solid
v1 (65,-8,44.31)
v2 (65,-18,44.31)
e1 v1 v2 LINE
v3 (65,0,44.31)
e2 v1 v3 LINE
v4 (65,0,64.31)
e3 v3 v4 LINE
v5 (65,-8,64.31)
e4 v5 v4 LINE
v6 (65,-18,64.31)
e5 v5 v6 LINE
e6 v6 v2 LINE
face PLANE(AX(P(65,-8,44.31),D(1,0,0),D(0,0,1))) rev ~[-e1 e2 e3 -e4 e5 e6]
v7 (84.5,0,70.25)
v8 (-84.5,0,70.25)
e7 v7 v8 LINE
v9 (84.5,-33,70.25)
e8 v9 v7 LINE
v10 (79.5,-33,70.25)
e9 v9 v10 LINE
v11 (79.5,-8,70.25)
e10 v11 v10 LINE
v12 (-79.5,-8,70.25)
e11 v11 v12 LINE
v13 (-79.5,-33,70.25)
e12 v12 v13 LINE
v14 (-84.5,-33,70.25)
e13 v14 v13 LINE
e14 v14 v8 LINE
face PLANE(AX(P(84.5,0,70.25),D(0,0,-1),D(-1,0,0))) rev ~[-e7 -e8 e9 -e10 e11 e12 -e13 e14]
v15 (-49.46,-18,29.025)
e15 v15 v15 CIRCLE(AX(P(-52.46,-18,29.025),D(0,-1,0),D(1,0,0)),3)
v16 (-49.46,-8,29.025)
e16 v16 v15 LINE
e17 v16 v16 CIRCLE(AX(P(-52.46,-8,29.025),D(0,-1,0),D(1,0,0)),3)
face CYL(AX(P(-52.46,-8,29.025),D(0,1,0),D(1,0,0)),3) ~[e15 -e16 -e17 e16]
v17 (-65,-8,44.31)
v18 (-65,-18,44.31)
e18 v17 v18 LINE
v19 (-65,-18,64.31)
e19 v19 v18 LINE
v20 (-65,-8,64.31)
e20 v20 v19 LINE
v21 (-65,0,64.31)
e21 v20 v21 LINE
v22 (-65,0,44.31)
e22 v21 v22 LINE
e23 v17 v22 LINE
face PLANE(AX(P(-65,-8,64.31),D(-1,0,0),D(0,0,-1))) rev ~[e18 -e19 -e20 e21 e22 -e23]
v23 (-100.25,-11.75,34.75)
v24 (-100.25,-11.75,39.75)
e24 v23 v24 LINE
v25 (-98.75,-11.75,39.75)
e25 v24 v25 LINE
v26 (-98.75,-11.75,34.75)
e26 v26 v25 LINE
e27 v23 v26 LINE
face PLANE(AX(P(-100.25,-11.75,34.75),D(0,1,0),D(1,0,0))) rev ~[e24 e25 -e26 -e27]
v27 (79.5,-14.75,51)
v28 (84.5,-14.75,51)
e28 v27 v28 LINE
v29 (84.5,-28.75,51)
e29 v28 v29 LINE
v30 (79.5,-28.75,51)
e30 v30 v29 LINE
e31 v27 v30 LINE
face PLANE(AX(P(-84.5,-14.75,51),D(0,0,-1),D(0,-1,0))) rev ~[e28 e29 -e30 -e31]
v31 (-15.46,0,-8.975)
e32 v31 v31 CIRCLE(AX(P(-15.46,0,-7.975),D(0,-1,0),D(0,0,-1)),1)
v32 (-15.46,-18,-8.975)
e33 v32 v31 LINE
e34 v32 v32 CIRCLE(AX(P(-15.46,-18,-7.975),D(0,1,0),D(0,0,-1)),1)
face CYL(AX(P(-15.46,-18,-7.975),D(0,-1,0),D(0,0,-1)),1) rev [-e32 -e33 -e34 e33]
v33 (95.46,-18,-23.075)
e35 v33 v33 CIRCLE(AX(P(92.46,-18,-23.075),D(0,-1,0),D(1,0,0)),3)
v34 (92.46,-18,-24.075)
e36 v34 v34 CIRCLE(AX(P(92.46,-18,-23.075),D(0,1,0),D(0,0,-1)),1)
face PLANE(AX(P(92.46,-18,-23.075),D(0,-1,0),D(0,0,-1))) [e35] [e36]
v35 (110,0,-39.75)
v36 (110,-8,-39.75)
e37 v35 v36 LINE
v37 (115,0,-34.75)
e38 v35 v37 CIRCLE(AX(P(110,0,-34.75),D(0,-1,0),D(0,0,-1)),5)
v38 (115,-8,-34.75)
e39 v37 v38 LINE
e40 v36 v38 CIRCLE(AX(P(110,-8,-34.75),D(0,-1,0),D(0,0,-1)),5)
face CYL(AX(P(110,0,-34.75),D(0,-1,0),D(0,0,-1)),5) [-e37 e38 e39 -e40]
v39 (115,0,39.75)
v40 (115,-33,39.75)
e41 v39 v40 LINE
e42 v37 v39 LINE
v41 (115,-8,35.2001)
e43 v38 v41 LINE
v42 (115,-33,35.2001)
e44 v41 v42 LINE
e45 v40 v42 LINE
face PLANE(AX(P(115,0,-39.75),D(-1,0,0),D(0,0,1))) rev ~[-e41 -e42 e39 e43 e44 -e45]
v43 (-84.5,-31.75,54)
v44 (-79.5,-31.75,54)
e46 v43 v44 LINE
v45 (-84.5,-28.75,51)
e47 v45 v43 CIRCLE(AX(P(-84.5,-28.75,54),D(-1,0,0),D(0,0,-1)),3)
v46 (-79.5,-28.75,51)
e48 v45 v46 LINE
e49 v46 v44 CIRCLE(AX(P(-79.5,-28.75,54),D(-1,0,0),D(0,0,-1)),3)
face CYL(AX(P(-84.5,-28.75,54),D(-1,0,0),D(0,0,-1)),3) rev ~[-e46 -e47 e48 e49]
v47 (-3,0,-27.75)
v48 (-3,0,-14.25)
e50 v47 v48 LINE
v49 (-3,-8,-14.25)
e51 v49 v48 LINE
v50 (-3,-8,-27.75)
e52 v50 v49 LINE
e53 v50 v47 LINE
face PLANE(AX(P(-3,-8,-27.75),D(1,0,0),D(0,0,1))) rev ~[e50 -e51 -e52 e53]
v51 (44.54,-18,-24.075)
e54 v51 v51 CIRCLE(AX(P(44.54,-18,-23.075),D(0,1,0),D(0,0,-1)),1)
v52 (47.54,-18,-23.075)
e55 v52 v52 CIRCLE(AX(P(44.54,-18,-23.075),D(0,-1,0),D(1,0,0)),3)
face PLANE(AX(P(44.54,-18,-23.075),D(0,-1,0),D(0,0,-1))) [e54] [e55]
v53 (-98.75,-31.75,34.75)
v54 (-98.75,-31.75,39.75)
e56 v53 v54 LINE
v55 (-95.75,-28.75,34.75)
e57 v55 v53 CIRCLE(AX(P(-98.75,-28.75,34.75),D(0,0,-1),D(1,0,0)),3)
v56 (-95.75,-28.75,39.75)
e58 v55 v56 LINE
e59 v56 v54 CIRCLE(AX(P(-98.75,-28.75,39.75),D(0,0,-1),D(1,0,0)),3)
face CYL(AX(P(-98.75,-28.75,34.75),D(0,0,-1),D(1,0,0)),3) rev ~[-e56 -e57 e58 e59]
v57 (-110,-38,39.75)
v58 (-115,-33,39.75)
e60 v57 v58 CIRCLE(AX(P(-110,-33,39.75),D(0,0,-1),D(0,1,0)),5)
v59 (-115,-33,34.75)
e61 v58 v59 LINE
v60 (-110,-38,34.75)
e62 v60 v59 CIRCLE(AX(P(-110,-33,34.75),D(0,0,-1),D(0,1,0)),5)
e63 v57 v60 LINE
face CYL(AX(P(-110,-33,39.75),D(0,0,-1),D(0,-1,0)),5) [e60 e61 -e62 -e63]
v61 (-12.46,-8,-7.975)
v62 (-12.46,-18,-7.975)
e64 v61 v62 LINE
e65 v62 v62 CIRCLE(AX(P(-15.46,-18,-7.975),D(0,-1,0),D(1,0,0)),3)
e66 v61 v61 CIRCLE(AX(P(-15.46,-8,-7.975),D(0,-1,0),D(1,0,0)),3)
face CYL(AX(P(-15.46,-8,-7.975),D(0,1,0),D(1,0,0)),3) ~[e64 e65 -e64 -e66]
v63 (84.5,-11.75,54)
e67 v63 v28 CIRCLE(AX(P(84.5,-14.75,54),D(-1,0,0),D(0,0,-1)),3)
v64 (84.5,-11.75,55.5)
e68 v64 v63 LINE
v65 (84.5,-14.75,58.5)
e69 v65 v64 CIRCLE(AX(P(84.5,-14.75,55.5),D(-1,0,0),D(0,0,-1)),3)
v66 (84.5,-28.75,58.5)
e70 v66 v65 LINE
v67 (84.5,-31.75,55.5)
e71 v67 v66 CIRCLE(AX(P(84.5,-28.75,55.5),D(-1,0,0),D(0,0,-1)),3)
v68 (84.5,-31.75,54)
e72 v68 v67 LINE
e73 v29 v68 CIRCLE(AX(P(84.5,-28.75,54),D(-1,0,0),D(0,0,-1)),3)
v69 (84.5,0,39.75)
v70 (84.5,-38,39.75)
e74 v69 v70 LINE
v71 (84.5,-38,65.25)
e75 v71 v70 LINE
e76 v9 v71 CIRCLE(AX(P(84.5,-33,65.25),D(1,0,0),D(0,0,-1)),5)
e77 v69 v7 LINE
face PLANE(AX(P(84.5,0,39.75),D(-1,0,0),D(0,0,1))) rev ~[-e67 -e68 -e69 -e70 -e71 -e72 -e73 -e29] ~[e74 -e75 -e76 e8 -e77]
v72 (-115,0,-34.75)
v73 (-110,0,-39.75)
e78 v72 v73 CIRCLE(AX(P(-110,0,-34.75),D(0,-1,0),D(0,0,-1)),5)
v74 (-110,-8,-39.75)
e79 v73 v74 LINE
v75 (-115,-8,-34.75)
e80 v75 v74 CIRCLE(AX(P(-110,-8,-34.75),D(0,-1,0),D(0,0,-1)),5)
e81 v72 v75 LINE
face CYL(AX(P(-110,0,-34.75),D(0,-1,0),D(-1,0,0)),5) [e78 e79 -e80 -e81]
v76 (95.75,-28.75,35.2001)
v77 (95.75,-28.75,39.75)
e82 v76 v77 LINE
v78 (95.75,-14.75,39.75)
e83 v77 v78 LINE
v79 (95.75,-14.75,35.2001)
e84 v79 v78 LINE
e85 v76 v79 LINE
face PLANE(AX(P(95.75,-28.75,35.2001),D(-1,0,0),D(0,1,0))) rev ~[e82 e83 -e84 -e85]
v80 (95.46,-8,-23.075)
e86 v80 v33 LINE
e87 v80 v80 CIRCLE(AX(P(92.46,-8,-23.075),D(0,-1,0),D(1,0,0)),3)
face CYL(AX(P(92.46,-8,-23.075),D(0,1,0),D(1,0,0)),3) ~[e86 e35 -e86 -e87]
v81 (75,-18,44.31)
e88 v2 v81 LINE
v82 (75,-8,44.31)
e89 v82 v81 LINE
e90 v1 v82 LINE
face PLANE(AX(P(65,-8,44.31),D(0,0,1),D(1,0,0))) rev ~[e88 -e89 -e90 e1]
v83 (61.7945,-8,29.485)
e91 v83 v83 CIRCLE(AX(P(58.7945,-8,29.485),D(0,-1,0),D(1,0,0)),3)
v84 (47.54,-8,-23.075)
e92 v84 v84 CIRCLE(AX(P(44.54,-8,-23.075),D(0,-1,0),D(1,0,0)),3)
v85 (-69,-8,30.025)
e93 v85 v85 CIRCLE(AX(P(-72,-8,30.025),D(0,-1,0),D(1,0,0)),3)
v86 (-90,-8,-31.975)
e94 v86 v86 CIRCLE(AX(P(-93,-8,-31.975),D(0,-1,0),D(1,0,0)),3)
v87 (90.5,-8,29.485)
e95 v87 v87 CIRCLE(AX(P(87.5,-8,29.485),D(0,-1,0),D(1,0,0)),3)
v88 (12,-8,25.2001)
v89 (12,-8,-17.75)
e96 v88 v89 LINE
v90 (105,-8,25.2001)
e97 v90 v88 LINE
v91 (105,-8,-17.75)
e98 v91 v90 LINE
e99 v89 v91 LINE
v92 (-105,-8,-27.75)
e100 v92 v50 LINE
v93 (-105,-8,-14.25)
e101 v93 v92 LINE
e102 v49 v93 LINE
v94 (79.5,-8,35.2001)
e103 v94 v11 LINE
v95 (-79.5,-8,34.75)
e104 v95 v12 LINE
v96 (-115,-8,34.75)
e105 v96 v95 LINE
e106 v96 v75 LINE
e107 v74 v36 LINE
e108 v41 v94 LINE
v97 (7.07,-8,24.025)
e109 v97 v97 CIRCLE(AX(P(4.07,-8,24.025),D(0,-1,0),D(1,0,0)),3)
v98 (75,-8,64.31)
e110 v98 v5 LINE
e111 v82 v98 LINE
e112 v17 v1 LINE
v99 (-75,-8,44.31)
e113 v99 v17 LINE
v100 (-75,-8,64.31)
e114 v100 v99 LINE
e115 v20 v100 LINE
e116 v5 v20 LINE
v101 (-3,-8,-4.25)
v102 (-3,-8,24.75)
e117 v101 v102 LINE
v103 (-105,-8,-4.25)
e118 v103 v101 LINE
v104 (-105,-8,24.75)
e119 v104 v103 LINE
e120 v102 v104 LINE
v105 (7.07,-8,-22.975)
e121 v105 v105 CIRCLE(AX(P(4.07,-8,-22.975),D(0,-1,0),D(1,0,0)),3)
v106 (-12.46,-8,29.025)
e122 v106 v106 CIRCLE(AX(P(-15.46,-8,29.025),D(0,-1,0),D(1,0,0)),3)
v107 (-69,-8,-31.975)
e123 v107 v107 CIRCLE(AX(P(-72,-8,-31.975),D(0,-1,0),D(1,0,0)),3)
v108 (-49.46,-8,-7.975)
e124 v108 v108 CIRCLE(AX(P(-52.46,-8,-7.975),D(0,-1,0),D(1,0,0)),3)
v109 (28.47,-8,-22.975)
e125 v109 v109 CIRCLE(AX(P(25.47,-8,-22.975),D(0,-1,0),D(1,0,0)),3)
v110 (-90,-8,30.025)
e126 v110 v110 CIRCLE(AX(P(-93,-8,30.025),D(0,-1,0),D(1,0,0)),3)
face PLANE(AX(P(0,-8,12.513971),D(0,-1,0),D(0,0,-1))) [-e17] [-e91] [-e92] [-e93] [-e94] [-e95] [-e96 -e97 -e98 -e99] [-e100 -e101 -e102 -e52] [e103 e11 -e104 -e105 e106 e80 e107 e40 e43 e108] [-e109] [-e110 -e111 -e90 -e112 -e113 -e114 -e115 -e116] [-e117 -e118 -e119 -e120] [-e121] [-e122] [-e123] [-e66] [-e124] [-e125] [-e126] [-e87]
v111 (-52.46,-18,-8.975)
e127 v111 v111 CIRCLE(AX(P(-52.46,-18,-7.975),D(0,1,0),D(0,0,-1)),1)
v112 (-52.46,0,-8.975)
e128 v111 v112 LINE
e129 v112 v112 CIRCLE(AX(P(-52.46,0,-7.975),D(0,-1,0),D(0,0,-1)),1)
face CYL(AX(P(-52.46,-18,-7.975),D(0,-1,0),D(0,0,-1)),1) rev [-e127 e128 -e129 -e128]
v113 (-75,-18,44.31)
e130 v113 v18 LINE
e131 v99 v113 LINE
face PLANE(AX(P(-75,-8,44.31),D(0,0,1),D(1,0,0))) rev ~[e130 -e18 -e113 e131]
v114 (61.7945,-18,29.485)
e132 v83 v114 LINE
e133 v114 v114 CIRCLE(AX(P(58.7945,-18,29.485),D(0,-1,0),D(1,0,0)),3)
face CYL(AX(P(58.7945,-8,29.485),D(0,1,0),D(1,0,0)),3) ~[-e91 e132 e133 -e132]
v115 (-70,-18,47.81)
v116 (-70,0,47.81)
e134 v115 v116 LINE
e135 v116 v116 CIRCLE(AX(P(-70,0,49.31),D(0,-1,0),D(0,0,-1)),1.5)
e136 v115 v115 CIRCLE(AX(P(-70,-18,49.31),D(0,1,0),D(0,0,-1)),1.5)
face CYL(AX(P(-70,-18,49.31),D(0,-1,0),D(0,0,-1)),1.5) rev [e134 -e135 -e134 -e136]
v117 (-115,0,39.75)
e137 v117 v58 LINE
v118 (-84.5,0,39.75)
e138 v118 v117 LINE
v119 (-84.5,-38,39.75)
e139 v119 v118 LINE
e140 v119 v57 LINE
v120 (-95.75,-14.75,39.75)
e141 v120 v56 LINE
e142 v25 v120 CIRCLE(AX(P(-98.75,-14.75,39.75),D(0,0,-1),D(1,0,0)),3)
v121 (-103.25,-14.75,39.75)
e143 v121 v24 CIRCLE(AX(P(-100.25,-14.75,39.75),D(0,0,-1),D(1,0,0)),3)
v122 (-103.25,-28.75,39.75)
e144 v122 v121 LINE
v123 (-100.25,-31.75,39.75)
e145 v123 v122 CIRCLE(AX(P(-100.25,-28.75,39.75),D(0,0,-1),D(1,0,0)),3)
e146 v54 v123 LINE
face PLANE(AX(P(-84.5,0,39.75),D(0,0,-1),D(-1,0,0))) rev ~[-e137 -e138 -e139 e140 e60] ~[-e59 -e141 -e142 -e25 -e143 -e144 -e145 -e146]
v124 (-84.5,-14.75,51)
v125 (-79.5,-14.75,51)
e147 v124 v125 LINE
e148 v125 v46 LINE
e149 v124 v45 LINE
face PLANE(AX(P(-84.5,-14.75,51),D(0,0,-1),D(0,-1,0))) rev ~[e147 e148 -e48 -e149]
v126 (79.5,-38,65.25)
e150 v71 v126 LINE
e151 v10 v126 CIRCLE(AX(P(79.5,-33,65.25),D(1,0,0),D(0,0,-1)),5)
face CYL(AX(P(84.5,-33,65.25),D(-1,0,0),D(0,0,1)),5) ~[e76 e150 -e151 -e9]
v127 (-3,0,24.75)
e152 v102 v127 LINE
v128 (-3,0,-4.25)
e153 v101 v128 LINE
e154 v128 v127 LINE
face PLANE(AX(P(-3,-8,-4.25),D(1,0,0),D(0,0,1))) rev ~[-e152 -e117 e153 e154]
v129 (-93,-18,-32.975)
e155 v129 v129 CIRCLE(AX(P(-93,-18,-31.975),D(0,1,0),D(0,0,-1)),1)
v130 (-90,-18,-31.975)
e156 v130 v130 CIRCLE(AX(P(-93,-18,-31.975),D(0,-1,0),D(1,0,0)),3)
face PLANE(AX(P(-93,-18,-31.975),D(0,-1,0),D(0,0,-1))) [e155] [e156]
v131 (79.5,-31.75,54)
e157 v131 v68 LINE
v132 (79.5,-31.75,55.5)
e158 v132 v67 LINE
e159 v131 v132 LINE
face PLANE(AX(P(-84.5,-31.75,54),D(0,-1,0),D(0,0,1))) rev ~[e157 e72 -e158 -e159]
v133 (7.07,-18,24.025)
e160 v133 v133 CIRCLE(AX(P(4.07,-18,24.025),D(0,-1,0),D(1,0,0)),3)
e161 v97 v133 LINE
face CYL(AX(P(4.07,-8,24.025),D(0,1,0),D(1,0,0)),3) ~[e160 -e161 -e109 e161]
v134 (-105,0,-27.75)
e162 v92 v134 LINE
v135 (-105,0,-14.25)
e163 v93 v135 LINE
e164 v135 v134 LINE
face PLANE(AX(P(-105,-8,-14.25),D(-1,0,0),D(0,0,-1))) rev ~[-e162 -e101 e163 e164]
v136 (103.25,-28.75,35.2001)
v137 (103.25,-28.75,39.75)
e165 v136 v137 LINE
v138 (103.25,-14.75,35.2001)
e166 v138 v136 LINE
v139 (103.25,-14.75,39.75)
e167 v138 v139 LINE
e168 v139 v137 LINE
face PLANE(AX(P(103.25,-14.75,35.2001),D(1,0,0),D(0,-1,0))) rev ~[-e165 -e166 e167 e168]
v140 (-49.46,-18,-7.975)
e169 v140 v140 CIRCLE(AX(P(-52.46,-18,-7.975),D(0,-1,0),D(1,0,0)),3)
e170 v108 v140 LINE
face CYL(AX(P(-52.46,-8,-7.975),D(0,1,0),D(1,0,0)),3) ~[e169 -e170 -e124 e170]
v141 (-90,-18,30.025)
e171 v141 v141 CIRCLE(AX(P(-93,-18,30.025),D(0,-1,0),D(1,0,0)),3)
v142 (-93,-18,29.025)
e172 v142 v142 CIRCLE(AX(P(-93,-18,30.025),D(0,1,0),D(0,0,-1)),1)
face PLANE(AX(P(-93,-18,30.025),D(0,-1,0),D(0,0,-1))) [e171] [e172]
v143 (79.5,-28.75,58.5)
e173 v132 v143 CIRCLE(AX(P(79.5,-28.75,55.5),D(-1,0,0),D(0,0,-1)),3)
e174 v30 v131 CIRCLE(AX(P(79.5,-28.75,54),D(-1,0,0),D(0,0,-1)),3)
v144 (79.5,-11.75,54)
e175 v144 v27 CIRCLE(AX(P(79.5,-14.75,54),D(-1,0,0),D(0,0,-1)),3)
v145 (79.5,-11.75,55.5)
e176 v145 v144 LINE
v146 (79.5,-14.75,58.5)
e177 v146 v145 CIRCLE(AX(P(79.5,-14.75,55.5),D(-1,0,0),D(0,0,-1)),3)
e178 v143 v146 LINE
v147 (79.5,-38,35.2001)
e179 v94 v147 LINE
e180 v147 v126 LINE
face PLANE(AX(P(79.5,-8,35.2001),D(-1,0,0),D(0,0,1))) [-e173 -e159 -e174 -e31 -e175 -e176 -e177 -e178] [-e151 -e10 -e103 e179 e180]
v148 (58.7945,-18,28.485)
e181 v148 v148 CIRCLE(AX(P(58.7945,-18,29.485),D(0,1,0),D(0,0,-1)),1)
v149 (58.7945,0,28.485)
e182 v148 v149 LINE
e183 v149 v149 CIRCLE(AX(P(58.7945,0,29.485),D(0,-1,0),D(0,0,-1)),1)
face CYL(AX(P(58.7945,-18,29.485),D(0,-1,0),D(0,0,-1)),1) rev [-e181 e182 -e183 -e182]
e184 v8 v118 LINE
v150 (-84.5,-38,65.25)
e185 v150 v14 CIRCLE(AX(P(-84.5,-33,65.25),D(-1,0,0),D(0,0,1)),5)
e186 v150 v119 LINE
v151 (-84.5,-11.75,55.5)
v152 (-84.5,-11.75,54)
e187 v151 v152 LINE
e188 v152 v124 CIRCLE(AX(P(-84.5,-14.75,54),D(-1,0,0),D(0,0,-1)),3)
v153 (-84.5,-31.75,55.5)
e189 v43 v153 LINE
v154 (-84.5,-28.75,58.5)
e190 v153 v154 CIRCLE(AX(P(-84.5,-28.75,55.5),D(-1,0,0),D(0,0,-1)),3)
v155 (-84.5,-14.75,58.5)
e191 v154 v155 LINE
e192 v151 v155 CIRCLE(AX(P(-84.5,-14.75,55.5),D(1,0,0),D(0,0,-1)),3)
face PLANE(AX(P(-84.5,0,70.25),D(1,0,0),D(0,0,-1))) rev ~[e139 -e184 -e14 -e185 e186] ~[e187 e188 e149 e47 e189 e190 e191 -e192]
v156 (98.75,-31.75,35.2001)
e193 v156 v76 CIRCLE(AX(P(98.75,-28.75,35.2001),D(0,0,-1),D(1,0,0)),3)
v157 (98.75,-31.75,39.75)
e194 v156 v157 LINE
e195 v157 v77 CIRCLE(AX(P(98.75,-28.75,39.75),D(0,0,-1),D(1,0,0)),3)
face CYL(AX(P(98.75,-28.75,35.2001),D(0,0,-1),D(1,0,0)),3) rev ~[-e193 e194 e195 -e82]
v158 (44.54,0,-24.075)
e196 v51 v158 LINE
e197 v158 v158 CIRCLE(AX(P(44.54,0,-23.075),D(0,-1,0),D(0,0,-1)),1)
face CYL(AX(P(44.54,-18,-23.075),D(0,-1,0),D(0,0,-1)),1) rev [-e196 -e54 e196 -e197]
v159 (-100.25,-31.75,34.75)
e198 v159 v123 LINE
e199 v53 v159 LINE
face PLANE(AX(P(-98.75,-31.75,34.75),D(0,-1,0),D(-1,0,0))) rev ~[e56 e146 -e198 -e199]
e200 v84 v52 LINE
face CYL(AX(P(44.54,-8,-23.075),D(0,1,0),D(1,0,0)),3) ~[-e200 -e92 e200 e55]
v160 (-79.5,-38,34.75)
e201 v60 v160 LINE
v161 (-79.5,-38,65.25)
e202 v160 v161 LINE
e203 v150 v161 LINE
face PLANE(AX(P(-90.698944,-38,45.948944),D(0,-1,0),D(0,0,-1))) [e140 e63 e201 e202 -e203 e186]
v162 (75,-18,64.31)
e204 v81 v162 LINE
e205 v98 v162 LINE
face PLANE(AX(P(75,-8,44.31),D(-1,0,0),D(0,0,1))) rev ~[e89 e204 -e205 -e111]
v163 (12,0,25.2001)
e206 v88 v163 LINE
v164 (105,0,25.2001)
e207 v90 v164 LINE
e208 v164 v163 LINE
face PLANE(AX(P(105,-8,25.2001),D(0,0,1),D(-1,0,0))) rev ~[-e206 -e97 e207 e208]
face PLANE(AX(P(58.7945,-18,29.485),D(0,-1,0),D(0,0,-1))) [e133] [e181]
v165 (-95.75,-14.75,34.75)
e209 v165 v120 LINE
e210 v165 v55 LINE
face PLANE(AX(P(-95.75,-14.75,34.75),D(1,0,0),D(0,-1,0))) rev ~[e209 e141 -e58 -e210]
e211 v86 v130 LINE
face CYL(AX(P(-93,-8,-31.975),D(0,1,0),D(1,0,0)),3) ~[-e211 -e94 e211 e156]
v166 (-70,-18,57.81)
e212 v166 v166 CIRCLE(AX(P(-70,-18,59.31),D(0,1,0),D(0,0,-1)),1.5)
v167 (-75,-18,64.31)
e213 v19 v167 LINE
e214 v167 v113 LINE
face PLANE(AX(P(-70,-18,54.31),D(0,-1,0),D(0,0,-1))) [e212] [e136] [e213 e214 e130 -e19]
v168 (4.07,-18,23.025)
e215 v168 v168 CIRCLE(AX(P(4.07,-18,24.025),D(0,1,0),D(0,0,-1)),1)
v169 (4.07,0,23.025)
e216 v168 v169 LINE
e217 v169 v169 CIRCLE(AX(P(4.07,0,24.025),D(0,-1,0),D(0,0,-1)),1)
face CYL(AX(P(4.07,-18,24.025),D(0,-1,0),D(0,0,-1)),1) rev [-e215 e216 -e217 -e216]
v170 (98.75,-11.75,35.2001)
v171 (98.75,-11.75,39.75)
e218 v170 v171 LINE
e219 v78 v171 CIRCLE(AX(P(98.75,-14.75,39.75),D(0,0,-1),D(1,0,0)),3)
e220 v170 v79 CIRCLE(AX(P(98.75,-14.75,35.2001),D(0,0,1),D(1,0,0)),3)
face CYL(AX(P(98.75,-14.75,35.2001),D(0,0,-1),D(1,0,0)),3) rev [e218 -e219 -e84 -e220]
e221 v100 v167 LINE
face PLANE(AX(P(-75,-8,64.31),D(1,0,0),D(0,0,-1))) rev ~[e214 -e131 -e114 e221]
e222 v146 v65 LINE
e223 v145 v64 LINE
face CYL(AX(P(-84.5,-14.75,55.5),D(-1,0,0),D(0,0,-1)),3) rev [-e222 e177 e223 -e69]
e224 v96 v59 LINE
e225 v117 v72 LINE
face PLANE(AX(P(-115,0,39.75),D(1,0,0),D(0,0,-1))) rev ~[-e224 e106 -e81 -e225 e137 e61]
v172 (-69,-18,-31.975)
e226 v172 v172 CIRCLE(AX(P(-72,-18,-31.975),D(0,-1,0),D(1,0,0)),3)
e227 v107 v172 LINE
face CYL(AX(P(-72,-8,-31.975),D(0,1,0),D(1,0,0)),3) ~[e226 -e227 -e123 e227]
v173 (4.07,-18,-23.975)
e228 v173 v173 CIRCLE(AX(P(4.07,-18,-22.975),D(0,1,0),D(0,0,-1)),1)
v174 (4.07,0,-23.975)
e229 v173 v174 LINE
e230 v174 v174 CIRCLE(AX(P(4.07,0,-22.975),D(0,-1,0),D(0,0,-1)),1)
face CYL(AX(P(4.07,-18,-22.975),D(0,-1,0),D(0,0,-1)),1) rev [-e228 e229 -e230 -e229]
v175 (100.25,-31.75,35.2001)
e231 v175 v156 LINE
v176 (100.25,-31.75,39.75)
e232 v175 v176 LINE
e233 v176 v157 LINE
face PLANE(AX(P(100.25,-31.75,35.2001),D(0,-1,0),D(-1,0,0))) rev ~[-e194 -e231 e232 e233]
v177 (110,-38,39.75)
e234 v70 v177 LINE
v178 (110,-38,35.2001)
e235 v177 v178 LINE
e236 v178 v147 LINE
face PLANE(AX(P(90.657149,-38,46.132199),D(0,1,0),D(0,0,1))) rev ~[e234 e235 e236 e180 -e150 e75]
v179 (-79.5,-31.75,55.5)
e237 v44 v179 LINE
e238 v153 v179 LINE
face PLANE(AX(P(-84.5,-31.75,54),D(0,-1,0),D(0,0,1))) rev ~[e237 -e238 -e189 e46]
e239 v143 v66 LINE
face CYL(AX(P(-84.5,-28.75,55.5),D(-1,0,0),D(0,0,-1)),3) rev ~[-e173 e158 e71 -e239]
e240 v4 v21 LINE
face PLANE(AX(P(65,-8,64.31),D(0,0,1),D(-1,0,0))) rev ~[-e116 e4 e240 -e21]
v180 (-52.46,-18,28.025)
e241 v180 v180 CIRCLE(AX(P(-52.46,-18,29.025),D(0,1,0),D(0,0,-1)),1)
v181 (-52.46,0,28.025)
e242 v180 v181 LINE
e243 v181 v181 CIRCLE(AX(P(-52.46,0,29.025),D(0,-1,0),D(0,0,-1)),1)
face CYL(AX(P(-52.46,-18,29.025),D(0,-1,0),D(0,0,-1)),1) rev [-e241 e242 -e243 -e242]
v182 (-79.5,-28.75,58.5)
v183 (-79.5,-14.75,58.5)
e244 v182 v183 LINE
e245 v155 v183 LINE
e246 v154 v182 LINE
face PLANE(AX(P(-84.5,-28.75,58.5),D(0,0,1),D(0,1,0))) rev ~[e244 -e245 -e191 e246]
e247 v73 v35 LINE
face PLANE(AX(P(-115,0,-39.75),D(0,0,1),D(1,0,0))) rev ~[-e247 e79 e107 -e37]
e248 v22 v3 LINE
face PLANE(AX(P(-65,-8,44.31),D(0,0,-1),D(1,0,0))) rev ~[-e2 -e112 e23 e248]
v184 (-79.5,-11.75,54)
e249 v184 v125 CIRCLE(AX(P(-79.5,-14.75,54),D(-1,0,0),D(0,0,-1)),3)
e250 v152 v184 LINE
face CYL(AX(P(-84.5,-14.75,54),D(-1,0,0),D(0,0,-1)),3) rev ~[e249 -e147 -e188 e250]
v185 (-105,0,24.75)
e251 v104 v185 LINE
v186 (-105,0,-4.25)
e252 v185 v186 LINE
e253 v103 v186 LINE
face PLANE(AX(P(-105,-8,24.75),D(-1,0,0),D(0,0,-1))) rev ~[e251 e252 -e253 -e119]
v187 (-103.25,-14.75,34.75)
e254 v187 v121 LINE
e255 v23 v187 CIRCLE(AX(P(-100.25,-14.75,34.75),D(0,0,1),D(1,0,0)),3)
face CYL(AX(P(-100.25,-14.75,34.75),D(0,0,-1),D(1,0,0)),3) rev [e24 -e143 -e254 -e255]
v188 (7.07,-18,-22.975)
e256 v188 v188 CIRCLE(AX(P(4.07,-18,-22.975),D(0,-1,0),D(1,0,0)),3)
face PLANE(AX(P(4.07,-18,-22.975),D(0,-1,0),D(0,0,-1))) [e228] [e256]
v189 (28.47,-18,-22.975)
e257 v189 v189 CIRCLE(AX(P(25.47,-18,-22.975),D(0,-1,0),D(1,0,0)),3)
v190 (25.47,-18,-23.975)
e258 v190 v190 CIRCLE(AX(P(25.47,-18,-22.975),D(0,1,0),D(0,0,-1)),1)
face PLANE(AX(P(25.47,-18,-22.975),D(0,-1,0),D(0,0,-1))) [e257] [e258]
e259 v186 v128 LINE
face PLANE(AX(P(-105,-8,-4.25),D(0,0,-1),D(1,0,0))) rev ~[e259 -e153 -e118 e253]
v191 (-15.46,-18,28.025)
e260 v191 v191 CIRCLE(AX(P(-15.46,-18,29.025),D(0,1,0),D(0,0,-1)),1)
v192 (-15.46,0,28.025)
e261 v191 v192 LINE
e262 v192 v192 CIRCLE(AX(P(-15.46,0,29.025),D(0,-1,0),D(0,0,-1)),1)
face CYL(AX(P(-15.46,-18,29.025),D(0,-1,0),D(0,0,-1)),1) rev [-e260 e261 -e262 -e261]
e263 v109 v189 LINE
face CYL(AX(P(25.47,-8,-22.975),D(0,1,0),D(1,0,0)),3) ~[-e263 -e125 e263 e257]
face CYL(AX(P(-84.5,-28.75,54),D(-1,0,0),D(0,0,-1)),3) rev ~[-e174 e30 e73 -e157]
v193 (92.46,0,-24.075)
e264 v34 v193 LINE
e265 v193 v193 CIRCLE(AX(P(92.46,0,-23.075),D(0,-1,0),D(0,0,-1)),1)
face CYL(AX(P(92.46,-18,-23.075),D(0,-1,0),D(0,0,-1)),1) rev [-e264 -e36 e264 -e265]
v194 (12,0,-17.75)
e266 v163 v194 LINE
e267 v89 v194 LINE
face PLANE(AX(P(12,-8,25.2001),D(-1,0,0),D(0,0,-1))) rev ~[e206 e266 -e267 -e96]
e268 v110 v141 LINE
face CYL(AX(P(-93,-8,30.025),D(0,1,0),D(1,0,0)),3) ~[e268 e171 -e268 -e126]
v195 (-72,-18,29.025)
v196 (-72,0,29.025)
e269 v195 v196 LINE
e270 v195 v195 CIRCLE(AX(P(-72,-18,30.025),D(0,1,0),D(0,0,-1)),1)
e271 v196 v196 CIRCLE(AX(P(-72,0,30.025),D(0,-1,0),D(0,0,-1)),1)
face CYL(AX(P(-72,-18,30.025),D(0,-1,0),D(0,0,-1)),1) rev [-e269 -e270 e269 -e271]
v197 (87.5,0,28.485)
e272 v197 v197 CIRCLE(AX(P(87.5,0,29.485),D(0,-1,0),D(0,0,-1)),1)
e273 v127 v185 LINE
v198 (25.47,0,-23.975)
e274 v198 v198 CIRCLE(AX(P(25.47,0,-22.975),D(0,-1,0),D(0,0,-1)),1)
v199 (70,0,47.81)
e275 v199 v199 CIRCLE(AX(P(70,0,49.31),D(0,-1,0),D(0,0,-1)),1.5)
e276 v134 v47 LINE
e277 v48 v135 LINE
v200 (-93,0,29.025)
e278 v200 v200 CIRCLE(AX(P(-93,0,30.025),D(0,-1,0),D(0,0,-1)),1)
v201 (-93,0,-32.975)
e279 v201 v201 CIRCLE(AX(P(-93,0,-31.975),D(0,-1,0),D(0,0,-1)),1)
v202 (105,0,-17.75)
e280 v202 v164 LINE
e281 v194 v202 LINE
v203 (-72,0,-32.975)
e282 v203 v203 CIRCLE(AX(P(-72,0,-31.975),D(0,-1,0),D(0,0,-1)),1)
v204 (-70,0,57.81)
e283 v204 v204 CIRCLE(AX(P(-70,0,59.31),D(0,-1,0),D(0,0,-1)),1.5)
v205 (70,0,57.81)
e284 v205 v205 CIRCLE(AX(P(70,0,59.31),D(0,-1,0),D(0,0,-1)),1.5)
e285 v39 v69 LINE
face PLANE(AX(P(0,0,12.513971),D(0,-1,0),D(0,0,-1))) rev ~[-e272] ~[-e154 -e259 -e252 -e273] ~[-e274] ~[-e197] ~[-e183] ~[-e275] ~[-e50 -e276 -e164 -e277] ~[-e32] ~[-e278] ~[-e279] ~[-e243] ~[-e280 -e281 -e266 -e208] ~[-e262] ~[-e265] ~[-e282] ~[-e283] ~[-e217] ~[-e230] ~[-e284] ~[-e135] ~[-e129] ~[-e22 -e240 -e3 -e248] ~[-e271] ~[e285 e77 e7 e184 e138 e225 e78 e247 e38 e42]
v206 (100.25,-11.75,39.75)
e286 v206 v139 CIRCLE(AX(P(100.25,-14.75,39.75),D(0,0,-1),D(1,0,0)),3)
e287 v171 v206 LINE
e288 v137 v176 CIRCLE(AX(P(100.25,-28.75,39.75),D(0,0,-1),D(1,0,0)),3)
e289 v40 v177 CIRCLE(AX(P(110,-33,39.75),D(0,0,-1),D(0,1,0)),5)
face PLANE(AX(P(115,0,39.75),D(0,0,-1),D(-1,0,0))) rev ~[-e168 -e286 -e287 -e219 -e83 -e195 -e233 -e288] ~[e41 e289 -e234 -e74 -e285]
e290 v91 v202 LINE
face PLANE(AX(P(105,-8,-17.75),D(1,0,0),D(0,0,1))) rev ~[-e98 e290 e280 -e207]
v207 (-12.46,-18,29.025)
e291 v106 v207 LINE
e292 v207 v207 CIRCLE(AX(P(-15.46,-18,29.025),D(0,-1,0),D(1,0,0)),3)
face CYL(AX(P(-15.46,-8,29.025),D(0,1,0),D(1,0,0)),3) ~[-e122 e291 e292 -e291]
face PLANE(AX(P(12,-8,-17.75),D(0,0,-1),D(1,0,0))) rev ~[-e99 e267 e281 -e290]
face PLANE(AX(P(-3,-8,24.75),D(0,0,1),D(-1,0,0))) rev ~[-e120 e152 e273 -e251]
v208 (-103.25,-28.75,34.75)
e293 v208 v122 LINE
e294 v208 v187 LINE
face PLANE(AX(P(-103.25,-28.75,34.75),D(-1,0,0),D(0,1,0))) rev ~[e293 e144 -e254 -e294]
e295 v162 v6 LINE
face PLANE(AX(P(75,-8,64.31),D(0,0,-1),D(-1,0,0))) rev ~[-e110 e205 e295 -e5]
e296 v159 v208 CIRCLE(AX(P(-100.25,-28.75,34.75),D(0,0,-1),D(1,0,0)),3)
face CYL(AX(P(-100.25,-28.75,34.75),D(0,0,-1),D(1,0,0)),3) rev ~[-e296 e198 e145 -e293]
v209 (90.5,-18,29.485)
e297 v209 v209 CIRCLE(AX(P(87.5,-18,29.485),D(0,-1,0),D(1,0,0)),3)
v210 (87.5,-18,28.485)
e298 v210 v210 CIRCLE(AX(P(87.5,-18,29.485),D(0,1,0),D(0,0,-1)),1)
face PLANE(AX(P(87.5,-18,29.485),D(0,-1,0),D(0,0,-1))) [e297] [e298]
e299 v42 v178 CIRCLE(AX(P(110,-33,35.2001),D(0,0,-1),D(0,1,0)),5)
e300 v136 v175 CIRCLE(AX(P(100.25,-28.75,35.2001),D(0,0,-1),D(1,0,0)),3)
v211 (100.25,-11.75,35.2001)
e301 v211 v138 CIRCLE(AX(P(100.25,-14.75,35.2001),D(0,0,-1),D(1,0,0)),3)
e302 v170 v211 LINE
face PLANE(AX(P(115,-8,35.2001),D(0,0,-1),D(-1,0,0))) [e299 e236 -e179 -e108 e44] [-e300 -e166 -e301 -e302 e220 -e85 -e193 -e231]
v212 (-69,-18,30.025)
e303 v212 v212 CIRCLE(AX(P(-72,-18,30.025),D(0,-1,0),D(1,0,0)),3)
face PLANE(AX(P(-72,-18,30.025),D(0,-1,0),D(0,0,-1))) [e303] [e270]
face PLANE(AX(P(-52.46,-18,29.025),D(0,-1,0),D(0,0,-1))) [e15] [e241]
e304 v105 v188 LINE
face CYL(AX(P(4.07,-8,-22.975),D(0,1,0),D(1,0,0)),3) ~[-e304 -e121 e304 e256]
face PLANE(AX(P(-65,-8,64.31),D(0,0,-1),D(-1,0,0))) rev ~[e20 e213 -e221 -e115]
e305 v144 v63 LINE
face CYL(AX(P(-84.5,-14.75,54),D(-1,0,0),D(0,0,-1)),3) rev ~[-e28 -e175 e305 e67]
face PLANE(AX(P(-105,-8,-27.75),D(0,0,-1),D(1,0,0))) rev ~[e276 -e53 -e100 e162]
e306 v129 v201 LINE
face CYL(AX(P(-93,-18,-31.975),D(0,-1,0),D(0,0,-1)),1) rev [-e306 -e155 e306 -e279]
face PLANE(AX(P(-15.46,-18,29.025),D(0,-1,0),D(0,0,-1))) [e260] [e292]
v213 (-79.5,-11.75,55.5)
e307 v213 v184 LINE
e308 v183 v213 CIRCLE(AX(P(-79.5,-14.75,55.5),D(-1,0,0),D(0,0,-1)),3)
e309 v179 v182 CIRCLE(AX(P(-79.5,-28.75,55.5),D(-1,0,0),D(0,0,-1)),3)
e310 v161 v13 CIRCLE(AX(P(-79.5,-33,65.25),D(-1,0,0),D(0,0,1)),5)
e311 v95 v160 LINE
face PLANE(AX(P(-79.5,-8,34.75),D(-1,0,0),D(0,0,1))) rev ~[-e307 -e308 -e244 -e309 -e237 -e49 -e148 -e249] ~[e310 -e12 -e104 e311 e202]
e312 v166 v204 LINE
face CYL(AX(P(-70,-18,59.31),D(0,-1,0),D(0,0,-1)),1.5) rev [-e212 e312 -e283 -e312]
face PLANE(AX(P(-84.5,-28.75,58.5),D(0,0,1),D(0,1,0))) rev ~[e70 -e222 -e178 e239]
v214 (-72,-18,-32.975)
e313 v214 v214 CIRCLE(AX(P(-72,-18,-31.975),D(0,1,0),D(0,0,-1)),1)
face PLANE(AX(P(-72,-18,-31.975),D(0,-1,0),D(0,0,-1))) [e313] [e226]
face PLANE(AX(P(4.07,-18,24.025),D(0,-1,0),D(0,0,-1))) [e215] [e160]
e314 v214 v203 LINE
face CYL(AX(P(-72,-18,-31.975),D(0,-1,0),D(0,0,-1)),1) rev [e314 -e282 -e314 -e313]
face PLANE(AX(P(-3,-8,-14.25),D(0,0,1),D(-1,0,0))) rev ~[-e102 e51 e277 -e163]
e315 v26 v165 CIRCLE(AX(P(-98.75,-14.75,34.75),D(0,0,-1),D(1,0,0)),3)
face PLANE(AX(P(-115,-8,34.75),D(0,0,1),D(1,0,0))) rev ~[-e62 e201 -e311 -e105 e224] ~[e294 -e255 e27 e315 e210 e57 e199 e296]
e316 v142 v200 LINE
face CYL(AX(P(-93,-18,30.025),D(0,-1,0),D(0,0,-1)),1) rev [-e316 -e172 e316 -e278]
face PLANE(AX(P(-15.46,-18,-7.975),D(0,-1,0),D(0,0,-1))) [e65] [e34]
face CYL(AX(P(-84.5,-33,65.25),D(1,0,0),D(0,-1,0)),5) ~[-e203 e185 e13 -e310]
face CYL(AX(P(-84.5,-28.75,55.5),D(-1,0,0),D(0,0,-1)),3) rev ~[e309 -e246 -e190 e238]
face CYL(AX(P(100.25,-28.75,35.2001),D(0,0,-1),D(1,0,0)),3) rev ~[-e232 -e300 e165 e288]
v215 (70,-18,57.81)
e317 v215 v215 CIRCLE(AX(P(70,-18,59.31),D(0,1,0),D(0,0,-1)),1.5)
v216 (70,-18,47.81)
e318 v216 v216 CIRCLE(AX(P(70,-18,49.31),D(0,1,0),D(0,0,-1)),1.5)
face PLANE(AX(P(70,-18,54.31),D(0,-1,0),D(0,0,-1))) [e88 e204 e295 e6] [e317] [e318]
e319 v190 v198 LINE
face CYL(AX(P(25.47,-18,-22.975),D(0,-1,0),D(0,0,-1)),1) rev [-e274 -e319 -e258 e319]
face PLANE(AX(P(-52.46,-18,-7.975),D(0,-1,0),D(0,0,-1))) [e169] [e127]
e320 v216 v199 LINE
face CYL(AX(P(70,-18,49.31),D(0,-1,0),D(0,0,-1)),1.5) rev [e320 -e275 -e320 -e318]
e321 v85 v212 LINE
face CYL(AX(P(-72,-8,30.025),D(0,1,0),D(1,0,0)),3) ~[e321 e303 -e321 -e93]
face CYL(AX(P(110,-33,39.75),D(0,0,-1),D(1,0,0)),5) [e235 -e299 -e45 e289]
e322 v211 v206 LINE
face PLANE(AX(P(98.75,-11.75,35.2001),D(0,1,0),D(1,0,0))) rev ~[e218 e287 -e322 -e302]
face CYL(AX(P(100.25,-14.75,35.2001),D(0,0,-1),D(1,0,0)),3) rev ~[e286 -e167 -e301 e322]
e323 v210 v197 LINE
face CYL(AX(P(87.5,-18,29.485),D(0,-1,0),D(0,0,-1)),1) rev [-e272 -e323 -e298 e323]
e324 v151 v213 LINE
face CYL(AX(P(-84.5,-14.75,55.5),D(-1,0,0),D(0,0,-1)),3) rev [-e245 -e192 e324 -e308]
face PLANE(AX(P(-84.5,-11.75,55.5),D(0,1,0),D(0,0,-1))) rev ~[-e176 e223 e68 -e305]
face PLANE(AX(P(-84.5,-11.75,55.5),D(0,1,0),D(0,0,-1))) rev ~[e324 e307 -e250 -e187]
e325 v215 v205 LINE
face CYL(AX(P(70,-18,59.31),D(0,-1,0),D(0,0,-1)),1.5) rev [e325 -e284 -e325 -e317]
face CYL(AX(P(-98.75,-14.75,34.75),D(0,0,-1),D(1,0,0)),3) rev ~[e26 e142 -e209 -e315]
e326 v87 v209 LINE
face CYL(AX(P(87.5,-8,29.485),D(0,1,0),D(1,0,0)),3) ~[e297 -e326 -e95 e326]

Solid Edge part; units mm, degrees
sketch "Sketch1" plane through (0, 0, 0) normal (0, -1, 0) x (1, 0, 0)
  line L0 (-84.5, 39.75) -> (-115, 39.75)
  line L1 (-115, 39.75) -> (-115, -39.75)
  line L2 (-115, -39.75) -> (115, -39.75)
  line L3 (115, -39.75) -> (115, 39.75)
  line L4 (115, 39.75) -> (84.5, 39.75)
  line L5 (84.5, 39.75) -> (84.5, 70.25)
  line L6 (84.5, 70.25) -> (-84.5, 70.25)
  line L7 (-84.5, 70.25) -> (-84.5, 39.75)
extrude "Protrusion1" add sketch "Sketch1" along normal blind 8
sketch "Sketch2" plane through (0, -8, 15.25) normal (0, -1, 0) x (1, 0, 0)
  line L0 (-115, 24.5) -> (-115, 19.5)
  line L1 (-115, 19.5) -> (-79.5, 19.5)
  line L2 (-79.5, 19.5) -> (-79.5, 55)
  line L3 (-84.5, 55) -> (-79.5, 55)
  line L4 (-84.5, 55) -> (-84.5, 24.5)
  line L5 (-84.5, 24.5) -> (-115, 24.5)
  line L6 (115, 19.9501) -> (79.5, 19.9501)
  line L7 (79.5, 19.9501) -> (79.5, 55)
  line L8 (84.5, 55) -> (79.5, 55)
  line L9 (84.5, 55) -> (84.5, 24.5)
  line L10 (84.5, 24.5) -> (115, 24.5)
  line L11 (115, 24.5) -> (115, 19.9501)
extrude "Protrusion2" add sketch "Sketch2" along normal blind 30
sketch "Sketch3" plane through (-97.25, -23, 34.75) normal (0, 0, -1) x (1, 0, 0)
  line L0 (1.5, -2.75) -> (1.5, 0.25) construction
  line L1 (1.5, -8.25) -> (1.5, 5.75)
  arc A0 (1.5, 5.75) -> (-1.5, 8.75) centre (-1.5, 5.75) ccw
  line L2 (-1.5, 8.75) -> (-3, 8.75)
  arc A1 (-3, 8.75) -> (-6, 5.75) centre (-3, 5.75) ccw
  line L3 (-6, 5.75) -> (-6, -8.25)
  line L4 (-6, 0.25) -> (-6, -2.75) construction
  arc A2 (-3, -11.25) -> (-6, -8.25) centre (-3, -8.25) cw
  line L5 (-3, -11.25) -> (-1.5, -11.25)
  arc A3 (-1.5, -11.25) -> (1.5, -8.25) centre (-1.5, -8.25) ccw
extrude "Cutout1" cut sketch "Sketch3" against normal blind 20
sketch "Sketch4" plane through (97.25, -23, 35.2001) normal (0, 0, -1) x (1, 0, 0)
  line L0 (6, -2.75) -> (6, 0.25) construction
  line L1 (6, -8.25) -> (6, 5.75)
  arc A0 (6, 5.75) -> (3, 8.75) centre (3, 5.75) ccw
  line L2 (3, 8.75) -> (1.5, 8.75)
  arc A1 (1.5, 8.75) -> (-1.5, 5.75) centre (1.5, 5.75) ccw
  line L3 (-1.5, 5.75) -> (-1.5, -8.25)
  line L4 (-1.5, 0.25) -> (-1.5, -2.75) construction
  arc A2 (1.5, -11.25) -> (-1.5, -8.25) centre (1.5, -8.25) cw
  line L5 (1.5, -11.25) -> (3, -11.25)
  arc A3 (3, -11.25) -> (6, -8.25) centre (3, -8.25) ccw
extrude "Cutout2" cut sketch "Sketch4" against normal blind 40
sketch "Sketch5" plane through (-84.5, -19, 55) normal (-1, 0, 0) x (0, 0, -1)
  line L0 (4, 1.25) -> (4, 4.25) construction
  line L1 (4, -4.25) -> (4, 9.75)
  arc A0 (4, 9.75) -> (1, 12.75) centre (1, 9.75) ccw
  line L2 (1, 12.75) -> (-0.5, 12.75)
  arc A1 (-0.5, 12.75) -> (-3.5, 9.75) centre (-0.5, 9.75) ccw
  line L3 (-3.5, 9.75) -> (-3.5, -4.25)
  line L4 (-3.5, 4.25) -> (-3.5, 1.25) construction
  arc A2 (-0.5, -7.25) -> (-3.5, -4.25) centre (-0.5, -4.25) cw
  line L5 (-0.5, -7.25) -> (1, -7.25)
  arc A3 (1, -7.25) -> (4, -4.25) centre (1, -4.25) ccw
extrude "Cutout3" cut sketch "Sketch5" against normal blind 200
sketch "Sketch6" plane through (0, -8, 15.25) normal (0, -1, 0) x (1, 0, 0)
  circle A0 centre (-93, 14.775) radius 3
  circle A1 centre (-72, 14.775) radius 3
  circle A2 centre (-93, -47.225) radius 3
  circle A3 centre (-72, -47.225) radius 3
  circle A4 centre (-52.46, -23.225) radius 3
  circle A5 centre (-52.46, 13.775) radius 3
  circle A6 centre (-15.46, 13.775) radius 3
  circle A7 centre (-15.46, -23.225) radius 3
  circle A8 centre (4.07, 8.775) radius 3
  circle A9 centre (4.07, -38.225) radius 3
  circle A10 centre (25.47, -38.225) radius 3
  circle A11 centre (44.54, -38.325) radius 3
  circle A12 centre (92.46, -38.325) radius 3
  circle A13 centre (87.5, 14.235) radius 3
  circle A14 centre (58.7945, 14.235) radius 3
  dimension "D1" = 53
  dimension "D2" = 68.6
  dimension "D3" = 20
  dimension "D4" = 3.175
  dimension "D5" = 3.1751
  dimension "D6" = 14.53
  dimension "D7" = 25.4
  dimension "D8" = 14.53
  dimension "D9" = 43
  dimension "D10" = 25
  dimension "D11" = 66
  dimension "D12" = 43
  dimension "D13" = 57
  dimension "D14" = 20
  dimension "D15" = 14.54
  dimension "D16" = 2.54
  dimension "D17" = 2.54
  dimension "D18" = 2.54
  dimension "D19" = 7.5
  dimension "D20" = 28.7055
  dimension "D21" = 13.5
  dimension "D22" = 2
  dimension "D23" = 2
  dimension "D24" = 2
  dimension "D25" = 2
  dimension "D26" = 8
  dimension "D27" = 2
  dimension "D28" = 3
  dimension "D29" = 3
  dimension "D30" = 3
  dimension "D31" = 3
  dimension "D32" = 2
  dimension "D33" = 2
  dimension "D34" = 2
  dimension "D35" = 2
extrude "Protrusion3" add sketch "Sketch6" along normal blind 10
hole "Hole1" at (-52.46, -18, -7.975) direction (0, 1, 0) diameter 2 end up to next
hole "Hole2" at (-52.46, -18, 29.025) direction (0, 1, 0) diameter 2 end up to next
hole "Hole3" at (-15.46, -18, 29.025) direction (0, 1, 0) diameter 2 end up to next
hole "Hole4" at (-15.46, -18, -7.975) direction (0, 1, 0) diameter 2 end up to next
hole "Hole5" at (44.54, -18, -23.075) direction (0, 1, 0) diameter 2 end up to next
hole "Hole6" at (58.7945, -18, 29.485) direction (0, 1, 0) diameter 2 end up to next
hole "Hole7" at (87.5, -18, 29.485) direction (0, 1, 0) diameter 2 end up to next
hole "Hole8" at (92.46, -18, -23.075) direction (0, 1, 0) diameter 2 end up to next
hole "Hole9" at (-93, -18, 30.025) direction (0, 1, 0) diameter 2 end up to next
hole "Hole10" at (-72, -18, 30.025) direction (0, 1, 0) diameter 2 end up to next
hole "Hole11" at (-72, -18, -31.975) direction (0, 1, 0) diameter 2 end up to next
hole "Hole12" at (-93, -18, -31.975) direction (0, 1, 0) diameter 2 end up to next
hole "Hole13" at (4.07, -18, -22.975) direction (0, 1, 0) diameter 2 end up to next
hole "Hole14" at (25.47, -18, -22.975) direction (0, 1, 0) diameter 2 end up to next
hole "Hole15" at (4.07, -18, 24.025) direction (0, 1, 0) diameter 2 end up to next
sketch "Sketch7" plane through (0, -8, 15.25) normal (0, -1, 0) x (1, 0, 0)
  line L0 (-105, -19.5) -> (-3, -19.5)
  line L1 (-3, -19.5) -> (-3, 9.5)
  line L2 (-3, 9.5) -> (-105, 9.5)
  line L3 (-105, 9.5) -> (-105, -19.5)
  line L4 (-3, -29.5) -> (-105, -29.5)
  line L5 (-105, -29.5) -> (-105, -43)
  line L6 (-105, -43) -> (-3, -43)
  line L7 (-3, -43) -> (-3, -29.5)
  line L8 (12, -33) -> (105, -33)
  line L9 (105, -33) -> (105, 9.9501)
  line L10 (105, 9.9501) -> (12, 9.9501)
  line L11 (12, 9.9501) -> (12, -33)
  line L12 (-65, 29.06) -> (65, 29.06)
  line L13 (65, 29.06) -> (65, 49.06)
  line L14 (65, 49.06) -> (-65, 49.06)
  line L15 (-65, 49.06) -> (-65, 29.06)
  dimension "D1" = 10
  dimension "D2" = 10
  dimension "D3" = 10
  dimension "D4" = 12
  dimension "D5" = 10
  dimension "D6" = 10
  dimension "D7" = 22
  dimension "D8" = 15
  dimension "D9" = 93
  dimension "D10" = 29
  dimension "D11" = 130
  dimension "D12" = 20
  dimension "D13" = 5.94
  dimension "D14" = 14.5
  dimension "D15" = 10
  dimension "D16" = 10
extrude "Cutout4" cut sketch "Sketch7" against normal blind 40
sketch "Sketch8" plane through (0, -8, 15.25) normal (0, -1, 0) x (1, 0, 0)
  line L0 (75, 29.06) -> (75, 49.06)
  line L1 (75, 49.06) -> (65, 49.06)
  line L2 (65, 49.06) -> (65, 29.06)
  line L3 (65, 29.06) -> (75, 29.06)
  line L4 (-75, 49.06) -> (-75, 29.06)
  line L5 (-75, 29.06) -> (-65, 29.06)
  line L6 (-65, 49.06) -> (-65, 29.06)
  line L7 (-65, 49.06) -> (-75, 49.06)
  dimension "D1" = 10
  dimension "D2" = 10
  dimension "D3" = 10
  dimension "D4" = 12
  dimension "D5" = 10
  dimension "D6" = 10
  dimension "D7" = 22
  dimension "D8" = 15
  dimension "D9" = 93
  dimension "D10" = 29
  dimension "D11" = 130
  dimension "D12" = 20
  dimension "D13" = 5.94
  dimension "D14" = 14.5
  dimension "D15" = 10
  dimension "D16" = 10
extrude "Protrusion4" add sketch "Sketch8" along normal blind 10
hole "Hole16" at (70, -18, 59.31) direction (0, 1, 0) diameter 3 end up to next
hole "Hole17" at (70, -18, 49.31) direction (0, 1, 0) diameter 3 end up to next
hole "Hole18" at (-70, -18, 59.31) direction (0, 1, 0) diameter 3 end up to next
hole "Hole19" at (-70, -18, 49.31) direction (0, 1, 0) diameter 3 end up to next
fillet "Round1" radius 5 6 edges at (-115, -4, -39.75) (115, -4, -39.75) (115, -38, 37.4751) (82, -38, 70.25) (-82, -38, 70.25) (-115, -38, 37.25)
